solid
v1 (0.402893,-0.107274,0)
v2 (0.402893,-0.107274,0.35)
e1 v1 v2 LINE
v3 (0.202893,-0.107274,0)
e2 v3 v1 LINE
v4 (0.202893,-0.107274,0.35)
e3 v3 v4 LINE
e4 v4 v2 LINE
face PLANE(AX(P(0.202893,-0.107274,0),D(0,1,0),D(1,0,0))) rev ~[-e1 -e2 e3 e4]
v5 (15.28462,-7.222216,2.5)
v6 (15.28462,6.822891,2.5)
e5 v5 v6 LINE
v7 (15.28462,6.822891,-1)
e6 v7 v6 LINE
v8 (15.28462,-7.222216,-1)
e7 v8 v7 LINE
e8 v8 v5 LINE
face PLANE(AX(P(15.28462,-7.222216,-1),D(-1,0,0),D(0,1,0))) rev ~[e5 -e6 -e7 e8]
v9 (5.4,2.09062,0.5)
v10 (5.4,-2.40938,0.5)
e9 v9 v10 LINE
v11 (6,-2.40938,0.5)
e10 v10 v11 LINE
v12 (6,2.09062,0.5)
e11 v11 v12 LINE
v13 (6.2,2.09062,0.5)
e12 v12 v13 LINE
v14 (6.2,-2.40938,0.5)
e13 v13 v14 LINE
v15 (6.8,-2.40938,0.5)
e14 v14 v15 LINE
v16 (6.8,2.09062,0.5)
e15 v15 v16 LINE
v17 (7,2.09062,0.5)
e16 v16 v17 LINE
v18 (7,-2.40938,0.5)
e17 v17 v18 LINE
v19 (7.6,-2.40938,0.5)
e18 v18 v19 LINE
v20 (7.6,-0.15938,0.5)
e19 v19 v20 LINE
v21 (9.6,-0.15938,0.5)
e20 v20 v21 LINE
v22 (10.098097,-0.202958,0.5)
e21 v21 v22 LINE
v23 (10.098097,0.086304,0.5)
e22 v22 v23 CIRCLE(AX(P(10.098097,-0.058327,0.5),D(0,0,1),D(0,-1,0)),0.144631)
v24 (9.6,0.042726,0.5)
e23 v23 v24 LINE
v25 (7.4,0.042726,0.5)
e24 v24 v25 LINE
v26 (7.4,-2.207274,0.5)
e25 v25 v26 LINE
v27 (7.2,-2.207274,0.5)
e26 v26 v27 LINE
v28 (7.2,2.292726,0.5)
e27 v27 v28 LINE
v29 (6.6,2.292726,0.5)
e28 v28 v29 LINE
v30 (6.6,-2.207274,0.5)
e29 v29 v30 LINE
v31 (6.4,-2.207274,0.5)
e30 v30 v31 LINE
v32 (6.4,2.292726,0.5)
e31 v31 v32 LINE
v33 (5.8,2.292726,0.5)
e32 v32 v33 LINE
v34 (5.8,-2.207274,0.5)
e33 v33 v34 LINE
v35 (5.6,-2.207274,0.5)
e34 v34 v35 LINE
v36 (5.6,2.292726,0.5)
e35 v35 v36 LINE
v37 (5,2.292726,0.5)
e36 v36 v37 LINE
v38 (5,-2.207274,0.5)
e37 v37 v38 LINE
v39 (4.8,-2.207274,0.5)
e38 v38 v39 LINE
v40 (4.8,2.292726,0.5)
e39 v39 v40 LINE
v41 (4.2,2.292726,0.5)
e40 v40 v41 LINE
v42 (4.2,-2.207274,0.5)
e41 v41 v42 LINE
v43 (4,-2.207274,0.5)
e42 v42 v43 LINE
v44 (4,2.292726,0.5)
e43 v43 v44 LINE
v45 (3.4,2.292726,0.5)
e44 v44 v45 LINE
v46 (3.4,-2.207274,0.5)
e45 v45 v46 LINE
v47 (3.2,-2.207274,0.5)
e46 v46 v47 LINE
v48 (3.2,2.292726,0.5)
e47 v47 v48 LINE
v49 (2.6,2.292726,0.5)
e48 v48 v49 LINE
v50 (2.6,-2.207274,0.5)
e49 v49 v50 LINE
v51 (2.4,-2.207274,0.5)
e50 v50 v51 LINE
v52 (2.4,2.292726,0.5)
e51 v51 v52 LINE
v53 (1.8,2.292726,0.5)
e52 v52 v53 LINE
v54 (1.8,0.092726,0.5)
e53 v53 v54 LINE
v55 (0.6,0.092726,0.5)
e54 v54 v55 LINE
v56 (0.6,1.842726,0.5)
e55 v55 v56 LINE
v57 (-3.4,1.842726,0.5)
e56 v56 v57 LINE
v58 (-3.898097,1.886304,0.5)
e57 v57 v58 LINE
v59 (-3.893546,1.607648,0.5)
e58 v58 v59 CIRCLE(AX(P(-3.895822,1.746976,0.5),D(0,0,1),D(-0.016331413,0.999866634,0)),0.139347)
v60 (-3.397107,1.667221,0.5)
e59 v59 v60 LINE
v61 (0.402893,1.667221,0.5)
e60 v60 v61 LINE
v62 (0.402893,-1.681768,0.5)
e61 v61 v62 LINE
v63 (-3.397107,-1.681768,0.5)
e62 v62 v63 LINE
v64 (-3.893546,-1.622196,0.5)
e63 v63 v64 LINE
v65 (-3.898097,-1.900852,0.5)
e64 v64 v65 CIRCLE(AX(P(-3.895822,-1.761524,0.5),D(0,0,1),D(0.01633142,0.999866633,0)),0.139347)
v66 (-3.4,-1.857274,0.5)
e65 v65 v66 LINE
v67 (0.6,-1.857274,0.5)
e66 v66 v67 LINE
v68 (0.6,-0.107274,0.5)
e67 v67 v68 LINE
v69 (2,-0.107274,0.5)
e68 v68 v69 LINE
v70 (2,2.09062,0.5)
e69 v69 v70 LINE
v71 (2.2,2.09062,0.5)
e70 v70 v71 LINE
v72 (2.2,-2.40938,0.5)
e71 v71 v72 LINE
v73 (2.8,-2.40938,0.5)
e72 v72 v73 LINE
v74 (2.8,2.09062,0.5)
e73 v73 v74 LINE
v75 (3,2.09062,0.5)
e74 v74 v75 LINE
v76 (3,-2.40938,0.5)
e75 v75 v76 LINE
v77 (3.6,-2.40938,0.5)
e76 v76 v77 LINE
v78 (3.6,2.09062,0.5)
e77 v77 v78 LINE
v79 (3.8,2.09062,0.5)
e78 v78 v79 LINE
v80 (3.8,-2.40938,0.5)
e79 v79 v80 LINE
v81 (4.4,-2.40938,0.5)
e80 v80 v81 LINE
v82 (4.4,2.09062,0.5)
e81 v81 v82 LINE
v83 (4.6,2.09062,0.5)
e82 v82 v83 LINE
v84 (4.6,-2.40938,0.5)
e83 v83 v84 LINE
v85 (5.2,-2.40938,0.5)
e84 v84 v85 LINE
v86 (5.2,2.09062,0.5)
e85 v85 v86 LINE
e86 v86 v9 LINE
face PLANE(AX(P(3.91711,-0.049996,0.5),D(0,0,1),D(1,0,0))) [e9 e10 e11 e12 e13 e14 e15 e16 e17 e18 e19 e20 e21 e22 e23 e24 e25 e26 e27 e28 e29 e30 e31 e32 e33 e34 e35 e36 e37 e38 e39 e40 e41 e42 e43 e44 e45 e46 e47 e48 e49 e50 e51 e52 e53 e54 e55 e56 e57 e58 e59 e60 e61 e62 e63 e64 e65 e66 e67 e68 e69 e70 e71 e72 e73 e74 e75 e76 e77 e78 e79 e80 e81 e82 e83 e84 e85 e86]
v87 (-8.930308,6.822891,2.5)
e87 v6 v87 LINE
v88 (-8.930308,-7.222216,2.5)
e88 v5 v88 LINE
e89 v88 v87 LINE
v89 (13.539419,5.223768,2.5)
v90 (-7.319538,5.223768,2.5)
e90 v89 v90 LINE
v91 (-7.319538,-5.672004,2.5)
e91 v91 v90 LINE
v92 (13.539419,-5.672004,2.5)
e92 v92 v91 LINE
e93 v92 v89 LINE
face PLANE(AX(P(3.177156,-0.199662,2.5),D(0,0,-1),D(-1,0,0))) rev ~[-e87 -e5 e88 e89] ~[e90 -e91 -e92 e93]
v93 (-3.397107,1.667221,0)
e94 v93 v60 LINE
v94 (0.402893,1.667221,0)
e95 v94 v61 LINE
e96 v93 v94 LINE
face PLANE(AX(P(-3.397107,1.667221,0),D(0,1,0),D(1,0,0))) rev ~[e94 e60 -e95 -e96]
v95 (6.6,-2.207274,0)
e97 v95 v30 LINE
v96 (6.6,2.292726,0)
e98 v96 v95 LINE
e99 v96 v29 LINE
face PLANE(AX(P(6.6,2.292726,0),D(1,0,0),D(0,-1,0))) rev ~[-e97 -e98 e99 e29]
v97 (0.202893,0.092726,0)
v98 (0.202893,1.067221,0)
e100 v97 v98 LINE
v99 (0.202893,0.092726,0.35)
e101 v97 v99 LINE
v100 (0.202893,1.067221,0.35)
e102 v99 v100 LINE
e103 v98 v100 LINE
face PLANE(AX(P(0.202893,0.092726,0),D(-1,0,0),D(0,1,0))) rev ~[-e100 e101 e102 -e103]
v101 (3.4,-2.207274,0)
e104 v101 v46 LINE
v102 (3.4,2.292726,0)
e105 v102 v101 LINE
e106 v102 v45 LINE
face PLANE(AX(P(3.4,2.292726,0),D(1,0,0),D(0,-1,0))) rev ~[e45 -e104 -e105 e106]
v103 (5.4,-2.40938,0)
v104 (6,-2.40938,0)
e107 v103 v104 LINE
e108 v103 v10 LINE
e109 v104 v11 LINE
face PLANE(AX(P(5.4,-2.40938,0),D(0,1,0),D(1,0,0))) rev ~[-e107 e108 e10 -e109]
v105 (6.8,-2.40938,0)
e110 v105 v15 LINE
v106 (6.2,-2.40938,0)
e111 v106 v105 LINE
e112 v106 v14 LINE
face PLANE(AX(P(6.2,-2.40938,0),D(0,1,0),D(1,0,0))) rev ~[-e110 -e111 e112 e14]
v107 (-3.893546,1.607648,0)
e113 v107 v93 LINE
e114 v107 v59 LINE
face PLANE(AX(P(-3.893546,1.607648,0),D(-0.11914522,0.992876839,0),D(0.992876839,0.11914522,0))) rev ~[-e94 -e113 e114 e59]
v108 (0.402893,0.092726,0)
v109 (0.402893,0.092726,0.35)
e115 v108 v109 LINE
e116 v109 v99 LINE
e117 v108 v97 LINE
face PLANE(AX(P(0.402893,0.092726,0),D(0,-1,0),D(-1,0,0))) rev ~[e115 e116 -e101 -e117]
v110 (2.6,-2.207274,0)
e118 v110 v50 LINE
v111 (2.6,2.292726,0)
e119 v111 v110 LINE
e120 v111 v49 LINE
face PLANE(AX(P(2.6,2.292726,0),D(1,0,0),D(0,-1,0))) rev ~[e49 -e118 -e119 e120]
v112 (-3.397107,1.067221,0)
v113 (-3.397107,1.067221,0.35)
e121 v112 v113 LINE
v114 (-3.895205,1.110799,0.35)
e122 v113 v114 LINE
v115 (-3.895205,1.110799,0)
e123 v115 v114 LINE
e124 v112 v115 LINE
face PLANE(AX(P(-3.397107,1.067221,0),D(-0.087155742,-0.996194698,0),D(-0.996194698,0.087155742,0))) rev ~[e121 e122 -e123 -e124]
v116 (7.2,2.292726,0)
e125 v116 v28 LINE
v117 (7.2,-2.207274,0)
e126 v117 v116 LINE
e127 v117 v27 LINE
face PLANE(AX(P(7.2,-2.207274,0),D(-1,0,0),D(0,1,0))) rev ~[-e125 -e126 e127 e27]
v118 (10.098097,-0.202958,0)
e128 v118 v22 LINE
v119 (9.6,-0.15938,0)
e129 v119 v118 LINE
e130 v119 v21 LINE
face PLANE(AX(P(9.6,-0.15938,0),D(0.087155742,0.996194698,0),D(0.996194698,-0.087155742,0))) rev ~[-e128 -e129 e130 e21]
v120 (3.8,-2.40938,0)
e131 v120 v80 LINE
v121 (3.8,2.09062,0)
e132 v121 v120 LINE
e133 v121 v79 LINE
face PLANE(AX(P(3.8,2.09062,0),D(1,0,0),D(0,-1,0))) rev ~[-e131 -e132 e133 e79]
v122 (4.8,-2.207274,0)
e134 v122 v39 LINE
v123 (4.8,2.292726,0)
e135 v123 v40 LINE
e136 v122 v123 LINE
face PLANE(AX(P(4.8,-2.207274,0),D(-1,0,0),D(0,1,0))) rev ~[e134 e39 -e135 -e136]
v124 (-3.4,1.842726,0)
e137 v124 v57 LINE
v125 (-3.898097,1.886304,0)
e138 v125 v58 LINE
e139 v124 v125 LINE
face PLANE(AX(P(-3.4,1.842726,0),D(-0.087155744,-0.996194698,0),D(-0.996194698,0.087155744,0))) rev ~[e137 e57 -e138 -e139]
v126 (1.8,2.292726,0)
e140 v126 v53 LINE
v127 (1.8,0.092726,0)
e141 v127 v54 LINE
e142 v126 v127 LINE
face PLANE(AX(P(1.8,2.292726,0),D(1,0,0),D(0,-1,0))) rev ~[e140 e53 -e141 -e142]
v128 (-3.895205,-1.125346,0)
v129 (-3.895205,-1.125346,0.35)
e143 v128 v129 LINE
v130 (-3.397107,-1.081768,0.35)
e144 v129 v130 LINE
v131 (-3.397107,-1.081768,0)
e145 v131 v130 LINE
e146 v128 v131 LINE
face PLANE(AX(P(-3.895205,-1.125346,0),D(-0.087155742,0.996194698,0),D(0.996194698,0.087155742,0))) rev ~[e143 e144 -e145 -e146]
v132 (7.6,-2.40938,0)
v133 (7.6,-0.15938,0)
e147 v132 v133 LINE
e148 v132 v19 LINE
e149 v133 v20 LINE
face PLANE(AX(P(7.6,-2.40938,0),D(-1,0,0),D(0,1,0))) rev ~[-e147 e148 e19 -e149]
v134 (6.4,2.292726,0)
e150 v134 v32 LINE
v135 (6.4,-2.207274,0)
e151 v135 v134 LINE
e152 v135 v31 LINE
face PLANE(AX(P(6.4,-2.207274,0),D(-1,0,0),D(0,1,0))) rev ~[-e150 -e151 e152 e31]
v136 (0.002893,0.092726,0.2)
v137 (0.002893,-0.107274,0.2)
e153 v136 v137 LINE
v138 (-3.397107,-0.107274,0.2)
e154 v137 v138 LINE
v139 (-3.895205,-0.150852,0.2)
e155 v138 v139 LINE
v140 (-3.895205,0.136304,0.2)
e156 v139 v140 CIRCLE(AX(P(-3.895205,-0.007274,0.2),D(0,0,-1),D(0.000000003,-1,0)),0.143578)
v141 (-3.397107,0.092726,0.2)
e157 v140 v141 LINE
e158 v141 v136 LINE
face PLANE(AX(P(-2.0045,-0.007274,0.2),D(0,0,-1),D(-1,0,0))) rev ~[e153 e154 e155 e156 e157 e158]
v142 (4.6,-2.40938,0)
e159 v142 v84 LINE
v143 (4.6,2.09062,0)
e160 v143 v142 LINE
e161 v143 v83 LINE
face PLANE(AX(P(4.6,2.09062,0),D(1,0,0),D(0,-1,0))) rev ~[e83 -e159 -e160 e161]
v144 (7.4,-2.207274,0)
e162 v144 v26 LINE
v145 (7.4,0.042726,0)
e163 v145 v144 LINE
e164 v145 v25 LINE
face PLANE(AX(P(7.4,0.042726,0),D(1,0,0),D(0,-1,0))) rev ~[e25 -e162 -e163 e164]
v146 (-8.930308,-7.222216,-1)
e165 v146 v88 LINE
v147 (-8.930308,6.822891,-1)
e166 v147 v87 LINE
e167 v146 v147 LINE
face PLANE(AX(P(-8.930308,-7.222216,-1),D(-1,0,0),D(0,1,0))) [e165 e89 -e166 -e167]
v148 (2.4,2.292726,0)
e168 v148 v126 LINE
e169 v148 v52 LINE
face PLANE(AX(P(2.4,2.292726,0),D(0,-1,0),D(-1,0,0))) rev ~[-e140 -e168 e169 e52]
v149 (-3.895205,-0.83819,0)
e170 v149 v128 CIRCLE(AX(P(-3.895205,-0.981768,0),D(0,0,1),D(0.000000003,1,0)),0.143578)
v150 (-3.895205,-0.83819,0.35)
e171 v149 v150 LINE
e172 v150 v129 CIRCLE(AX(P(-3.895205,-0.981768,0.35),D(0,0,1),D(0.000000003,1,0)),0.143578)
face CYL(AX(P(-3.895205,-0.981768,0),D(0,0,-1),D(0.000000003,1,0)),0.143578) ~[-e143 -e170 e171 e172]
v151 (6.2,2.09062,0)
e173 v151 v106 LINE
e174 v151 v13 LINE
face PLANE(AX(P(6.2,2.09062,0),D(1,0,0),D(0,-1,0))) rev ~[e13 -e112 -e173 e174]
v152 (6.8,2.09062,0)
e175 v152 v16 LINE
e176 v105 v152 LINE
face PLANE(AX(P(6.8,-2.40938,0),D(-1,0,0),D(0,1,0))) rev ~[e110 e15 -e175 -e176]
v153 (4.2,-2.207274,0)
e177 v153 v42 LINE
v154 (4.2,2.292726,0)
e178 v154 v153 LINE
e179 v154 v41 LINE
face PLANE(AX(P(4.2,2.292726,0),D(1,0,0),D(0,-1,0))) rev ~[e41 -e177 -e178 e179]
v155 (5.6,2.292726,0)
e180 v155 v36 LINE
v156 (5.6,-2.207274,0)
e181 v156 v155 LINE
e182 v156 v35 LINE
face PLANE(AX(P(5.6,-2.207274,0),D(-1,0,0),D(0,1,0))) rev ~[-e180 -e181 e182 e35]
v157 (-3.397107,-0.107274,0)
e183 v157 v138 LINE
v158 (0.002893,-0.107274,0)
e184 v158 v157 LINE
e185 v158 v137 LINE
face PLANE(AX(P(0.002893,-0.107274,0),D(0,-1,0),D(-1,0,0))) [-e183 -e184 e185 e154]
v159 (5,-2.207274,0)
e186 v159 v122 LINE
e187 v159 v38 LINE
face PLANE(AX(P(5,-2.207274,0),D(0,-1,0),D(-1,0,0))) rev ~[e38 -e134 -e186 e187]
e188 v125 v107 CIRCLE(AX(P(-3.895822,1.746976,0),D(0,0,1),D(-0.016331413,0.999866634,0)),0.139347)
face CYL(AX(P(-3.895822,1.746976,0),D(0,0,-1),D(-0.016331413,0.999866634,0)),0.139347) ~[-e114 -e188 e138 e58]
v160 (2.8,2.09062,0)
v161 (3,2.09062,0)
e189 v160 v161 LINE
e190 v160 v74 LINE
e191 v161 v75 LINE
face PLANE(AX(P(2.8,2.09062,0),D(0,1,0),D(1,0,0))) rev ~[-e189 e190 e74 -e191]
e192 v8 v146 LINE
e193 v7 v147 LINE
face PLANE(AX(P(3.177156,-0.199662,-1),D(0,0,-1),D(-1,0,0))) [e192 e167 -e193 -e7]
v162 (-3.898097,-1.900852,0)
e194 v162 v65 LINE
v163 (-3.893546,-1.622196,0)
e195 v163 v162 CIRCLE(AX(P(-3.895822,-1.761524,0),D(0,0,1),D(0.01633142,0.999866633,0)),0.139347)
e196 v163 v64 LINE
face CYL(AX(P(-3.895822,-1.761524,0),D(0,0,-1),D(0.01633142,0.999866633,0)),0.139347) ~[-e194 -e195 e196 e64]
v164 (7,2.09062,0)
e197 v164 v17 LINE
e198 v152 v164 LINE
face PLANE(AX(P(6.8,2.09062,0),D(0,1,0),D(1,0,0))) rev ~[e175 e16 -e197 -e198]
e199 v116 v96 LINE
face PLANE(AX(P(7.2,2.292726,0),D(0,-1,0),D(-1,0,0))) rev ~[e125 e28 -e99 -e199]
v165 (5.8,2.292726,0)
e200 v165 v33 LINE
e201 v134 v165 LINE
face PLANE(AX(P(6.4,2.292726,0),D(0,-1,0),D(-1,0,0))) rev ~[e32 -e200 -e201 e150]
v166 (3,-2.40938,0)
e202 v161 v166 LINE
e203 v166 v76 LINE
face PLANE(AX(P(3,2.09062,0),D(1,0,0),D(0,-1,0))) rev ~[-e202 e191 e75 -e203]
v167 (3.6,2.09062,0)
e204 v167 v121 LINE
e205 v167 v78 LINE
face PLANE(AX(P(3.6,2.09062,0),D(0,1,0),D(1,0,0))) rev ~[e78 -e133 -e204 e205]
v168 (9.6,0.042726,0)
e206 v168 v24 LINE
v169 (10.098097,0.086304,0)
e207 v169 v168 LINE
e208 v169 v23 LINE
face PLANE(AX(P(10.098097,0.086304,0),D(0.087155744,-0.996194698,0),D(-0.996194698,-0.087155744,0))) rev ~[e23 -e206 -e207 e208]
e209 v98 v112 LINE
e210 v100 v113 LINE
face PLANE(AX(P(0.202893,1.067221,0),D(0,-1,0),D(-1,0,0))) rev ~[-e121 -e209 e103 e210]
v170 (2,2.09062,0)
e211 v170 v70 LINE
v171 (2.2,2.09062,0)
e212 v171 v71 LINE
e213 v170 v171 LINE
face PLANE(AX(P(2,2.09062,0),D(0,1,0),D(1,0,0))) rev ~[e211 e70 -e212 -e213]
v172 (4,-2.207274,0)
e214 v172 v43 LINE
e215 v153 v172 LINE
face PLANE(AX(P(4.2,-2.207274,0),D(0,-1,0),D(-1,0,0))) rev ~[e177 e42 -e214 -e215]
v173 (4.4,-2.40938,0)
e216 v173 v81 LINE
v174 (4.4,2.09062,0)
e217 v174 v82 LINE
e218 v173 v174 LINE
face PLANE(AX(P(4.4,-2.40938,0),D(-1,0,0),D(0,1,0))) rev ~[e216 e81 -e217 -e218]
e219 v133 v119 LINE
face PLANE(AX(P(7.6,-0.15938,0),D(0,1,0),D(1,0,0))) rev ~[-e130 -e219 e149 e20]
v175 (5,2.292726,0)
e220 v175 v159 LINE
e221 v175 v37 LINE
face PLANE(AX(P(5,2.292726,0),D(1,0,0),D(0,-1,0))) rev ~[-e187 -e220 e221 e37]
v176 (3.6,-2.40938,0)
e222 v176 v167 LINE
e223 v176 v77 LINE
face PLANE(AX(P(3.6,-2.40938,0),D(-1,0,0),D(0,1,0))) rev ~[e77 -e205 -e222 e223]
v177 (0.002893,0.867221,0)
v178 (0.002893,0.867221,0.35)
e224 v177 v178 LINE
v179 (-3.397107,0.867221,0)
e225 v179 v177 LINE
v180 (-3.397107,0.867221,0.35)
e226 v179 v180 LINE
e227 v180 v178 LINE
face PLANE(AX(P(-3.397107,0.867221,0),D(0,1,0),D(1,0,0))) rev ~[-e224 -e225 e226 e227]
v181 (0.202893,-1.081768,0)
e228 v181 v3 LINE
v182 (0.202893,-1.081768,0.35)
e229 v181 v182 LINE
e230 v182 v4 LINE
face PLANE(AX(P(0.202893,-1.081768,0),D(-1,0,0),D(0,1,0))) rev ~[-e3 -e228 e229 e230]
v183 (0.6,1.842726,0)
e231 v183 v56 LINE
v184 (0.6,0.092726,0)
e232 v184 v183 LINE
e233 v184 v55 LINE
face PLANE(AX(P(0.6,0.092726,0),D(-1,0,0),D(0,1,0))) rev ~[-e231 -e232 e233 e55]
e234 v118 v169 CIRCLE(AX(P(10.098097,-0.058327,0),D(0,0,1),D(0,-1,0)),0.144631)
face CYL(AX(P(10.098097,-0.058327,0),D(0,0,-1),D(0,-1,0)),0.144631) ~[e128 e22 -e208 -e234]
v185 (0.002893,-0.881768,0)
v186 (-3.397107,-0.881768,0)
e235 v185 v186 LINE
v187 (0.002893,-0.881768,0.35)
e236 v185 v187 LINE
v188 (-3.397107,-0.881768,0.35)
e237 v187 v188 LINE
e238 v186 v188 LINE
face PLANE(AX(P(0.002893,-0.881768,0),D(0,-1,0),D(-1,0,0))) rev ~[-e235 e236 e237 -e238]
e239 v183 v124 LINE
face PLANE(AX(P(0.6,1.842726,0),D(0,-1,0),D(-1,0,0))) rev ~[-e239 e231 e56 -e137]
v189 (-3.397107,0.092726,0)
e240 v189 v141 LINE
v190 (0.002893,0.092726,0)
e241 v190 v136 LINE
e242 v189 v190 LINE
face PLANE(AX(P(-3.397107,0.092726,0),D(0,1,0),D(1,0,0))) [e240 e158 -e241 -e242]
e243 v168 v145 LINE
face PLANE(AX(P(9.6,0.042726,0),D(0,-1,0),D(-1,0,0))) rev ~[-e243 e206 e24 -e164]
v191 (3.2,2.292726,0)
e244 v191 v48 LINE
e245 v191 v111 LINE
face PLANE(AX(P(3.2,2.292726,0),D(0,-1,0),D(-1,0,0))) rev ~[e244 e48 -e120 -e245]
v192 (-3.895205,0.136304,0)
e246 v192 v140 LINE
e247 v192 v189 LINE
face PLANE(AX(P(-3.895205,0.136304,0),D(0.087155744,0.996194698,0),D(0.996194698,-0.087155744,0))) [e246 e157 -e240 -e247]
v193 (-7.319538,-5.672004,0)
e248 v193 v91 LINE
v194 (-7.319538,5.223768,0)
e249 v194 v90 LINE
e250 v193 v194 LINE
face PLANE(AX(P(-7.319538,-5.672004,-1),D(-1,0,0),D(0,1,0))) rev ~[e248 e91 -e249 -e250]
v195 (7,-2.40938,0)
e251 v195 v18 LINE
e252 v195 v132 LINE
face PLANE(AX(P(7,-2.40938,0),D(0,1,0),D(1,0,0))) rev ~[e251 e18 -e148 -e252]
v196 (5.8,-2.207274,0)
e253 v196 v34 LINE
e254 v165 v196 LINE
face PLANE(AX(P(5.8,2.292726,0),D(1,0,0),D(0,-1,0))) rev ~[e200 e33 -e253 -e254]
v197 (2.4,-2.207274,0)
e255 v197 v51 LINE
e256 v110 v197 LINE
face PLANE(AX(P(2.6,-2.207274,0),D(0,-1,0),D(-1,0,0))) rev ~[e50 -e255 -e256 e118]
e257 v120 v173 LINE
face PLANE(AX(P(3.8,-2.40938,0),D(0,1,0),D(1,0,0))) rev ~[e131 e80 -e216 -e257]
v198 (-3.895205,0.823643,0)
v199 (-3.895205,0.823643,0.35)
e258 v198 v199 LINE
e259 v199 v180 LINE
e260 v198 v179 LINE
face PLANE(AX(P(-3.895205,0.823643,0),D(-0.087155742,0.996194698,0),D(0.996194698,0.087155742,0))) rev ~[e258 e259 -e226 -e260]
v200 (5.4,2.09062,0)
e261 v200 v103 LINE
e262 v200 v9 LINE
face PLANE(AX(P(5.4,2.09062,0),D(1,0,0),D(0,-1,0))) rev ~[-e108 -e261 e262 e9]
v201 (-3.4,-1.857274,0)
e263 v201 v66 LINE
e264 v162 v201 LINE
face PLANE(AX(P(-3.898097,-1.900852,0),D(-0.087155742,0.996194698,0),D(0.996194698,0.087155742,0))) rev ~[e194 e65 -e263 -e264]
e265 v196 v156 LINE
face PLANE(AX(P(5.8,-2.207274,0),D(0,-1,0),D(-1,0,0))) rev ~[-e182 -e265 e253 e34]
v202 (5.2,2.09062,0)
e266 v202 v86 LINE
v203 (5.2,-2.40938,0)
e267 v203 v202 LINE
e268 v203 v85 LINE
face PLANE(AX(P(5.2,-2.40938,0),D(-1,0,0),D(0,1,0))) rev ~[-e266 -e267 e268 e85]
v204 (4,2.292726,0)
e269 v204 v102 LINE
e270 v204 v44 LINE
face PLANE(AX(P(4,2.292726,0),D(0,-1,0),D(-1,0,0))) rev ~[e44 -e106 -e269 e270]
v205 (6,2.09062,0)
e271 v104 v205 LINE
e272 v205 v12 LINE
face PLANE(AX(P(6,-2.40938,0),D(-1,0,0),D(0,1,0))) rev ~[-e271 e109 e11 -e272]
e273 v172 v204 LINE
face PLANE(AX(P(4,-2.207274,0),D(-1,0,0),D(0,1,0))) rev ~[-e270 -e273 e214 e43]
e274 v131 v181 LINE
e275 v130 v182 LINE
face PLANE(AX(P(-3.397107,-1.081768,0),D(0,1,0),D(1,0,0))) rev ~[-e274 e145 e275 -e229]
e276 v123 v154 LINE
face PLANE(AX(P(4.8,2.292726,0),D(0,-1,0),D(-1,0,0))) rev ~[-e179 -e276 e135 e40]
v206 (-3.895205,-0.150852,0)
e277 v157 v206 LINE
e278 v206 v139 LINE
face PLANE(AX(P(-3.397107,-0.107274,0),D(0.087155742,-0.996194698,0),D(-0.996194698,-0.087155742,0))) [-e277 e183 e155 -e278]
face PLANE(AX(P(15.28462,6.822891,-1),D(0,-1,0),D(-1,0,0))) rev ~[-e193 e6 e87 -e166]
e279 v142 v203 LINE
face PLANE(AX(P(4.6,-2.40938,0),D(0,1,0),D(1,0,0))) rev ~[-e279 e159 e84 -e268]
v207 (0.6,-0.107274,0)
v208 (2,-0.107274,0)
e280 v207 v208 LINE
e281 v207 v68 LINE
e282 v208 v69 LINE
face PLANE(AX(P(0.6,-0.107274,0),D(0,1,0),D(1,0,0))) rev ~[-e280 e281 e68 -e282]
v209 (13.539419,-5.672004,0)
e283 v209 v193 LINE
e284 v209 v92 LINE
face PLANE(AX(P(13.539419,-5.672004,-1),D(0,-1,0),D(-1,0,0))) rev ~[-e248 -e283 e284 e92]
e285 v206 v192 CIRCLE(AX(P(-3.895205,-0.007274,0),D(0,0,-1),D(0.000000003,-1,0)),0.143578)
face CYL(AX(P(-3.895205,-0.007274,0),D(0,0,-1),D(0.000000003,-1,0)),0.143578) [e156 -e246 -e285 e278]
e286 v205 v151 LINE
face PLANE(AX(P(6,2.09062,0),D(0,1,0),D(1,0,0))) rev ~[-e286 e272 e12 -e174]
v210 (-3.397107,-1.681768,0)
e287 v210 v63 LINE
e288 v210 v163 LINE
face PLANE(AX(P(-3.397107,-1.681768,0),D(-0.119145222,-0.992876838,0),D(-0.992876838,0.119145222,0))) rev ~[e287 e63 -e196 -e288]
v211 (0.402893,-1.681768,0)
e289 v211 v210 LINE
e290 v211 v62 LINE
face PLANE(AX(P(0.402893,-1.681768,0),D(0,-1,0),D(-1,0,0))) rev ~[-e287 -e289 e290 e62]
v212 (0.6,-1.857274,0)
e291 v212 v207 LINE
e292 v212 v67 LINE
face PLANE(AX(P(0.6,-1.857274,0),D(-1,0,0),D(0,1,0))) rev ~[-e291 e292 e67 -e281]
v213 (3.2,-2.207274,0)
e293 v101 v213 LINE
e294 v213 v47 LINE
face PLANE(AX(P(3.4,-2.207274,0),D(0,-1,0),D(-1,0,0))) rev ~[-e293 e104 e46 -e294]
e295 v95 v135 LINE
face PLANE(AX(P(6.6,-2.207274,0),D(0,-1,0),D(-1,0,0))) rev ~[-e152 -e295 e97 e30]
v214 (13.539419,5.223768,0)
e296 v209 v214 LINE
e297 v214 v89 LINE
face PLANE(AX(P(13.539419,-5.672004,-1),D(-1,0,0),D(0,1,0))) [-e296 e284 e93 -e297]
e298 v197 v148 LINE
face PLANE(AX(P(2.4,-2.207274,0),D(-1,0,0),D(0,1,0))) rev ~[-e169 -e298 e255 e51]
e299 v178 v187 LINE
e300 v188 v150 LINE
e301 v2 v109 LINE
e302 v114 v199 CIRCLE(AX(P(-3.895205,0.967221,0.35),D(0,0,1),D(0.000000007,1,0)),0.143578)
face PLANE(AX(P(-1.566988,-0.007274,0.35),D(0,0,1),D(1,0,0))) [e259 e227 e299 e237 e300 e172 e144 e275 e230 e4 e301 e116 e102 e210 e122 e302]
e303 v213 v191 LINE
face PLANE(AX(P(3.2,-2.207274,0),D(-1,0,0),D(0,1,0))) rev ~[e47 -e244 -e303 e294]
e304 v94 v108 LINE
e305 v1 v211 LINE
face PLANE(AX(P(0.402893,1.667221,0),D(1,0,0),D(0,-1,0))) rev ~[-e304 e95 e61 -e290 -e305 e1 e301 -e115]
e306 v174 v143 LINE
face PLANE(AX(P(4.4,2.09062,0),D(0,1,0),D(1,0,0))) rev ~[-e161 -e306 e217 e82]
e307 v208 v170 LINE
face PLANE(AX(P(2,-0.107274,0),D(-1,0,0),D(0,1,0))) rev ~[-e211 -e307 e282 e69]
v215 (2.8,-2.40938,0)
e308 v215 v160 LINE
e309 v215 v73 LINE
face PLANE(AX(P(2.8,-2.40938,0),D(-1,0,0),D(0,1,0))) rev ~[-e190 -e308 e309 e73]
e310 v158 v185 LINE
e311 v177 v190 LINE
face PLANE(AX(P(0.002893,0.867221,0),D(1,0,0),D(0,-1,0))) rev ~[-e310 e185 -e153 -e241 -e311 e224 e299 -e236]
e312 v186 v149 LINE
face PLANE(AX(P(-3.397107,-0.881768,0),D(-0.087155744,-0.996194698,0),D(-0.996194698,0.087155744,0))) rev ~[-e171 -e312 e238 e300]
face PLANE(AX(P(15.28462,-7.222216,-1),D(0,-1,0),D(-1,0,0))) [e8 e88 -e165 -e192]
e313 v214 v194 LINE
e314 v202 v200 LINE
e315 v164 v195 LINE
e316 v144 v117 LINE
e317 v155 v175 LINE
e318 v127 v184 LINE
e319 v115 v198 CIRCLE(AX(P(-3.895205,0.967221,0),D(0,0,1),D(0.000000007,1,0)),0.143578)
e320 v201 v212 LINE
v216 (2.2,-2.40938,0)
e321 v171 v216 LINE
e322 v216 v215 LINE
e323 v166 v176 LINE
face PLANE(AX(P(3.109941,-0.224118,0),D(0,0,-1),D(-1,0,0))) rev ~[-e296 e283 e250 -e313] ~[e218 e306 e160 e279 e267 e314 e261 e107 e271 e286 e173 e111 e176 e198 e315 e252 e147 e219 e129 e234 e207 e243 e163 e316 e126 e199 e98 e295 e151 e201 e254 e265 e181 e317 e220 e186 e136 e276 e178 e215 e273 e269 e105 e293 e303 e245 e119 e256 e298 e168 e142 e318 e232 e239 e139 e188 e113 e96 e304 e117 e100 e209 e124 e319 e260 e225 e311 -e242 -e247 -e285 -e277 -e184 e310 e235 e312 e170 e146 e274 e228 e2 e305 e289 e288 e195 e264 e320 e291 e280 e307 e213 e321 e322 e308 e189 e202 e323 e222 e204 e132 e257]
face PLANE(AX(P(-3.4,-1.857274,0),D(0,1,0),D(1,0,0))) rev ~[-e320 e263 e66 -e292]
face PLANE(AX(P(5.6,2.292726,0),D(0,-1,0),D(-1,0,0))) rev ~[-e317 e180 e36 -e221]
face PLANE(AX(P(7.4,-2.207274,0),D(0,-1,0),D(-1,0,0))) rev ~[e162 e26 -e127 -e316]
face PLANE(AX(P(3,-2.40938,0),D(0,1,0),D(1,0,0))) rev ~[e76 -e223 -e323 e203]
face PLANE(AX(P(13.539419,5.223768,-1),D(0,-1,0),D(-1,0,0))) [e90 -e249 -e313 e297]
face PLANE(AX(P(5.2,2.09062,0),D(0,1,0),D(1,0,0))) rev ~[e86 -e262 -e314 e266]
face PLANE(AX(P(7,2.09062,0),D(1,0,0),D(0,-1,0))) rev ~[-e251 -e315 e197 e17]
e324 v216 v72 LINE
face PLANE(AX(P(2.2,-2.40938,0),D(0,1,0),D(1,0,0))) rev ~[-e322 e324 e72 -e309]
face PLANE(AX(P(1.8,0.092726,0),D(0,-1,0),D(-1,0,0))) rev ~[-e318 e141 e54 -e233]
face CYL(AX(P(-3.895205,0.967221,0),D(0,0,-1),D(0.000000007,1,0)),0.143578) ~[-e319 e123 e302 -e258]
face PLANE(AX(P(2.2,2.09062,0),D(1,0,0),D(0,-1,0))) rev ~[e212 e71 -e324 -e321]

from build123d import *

# Parameters (mm, degrees)
BOSS_EXTRUDE1_DEPTH = 0.2
BOSS_EXTRUDE2_DEPTH = 0.35
BOSS_EXTRUDE3_DEPTH = 0.5
SKETCH2_W           = 20.858957108
SKETCH2_H           = 10.895771928
BOSS_EXTRUDE4_DEPTH = 1
SKETCH3_W           = 24.214928457
SKETCH3_H           = 14.045107393
SKETCH3_W_2         = 20.858957108
SKETCH3_H_2         = 10.895771928
BOSS_EXTRUDE5_DEPTH = 3.5


with BuildPart() as part:
    # Sketch1 → Boss-Extrude1 (new body)
    with BuildSketch(Plane.XY):
        with BuildLine():
            Line((-3.397107478, 0.09272626), (0.002892522, 0.09272626))
            Line((0.002892522, 0.09272626), (0.002892522, -0.10727374))
            Line((0.002892522, -0.10727374), (-3.397107478, -0.10727374))
            Line((-3.397107478, -0.10727374), (-3.895204827, -0.150851611))
            ThreePointArc((-3.895204827, -0.150851611), (-4.038782699, -0.00727374), (-3.895204827, 0.136304132))
            Line((-3.895204827, 0.136304132), (-3.397107478, 0.09272626))
        make_face()
    extrude(amount=BOSS_EXTRUDE1_DEPTH)

    # Sketch1<4> → Boss-Extrude2 (add)
    with BuildSketch(Plane.XY):
        with BuildLine():
            Line((0.402892522, -0.10727374), (0.402892522, 0.09272626))
            Line((0.402892522, 0.09272626), (0.202892522, 0.09272626))
            Line((0.202892522, 0.09272626), (0.202892522, 1.067220881))
            Line((0.202892522, 1.067220881), (-3.397107478, 1.067220881))
            Line((-3.397107478, 1.067220881), (-3.895204827, 1.110798752))
            ThreePointArc((-3.895204827, 1.110798752), (-4.038782699, 0.967220881), (-3.895204827, 0.82364301))
            Line((-3.895204827, 0.82364301), (-3.397107478, 0.867220881))
            Line((-3.397107478, 0.867220881), (0.002892522, 0.867220881))
            Line((0.002892522, 0.867220881), (0.002892522, 0.09272626))
            Line((0.002892522, 0.09272626), (0.002892522, -0.10727374))
            Line((0.002892522, -0.10727374), (0.002892522, -0.881768361))
            Line((0.002892522, -0.881768361), (-3.397107478, -0.881768361))
            Line((-3.397107478, -0.881768361), (-3.895204827, -0.838190489))
            ThreePointArc((-3.895204827, -0.838190489), (-4.038782699, -0.981768361), (-3.895204827, -1.125346232))
            Line((-3.895204827, -1.125346232), (-3.397107478, -1.081768361))
            Line((-3.397107478, -1.081768361), (0.202892522, -1.081768361))
            Line((0.202892522, -1.081768361), (0.202892522, -0.10727374))
            Line((0.202892522, -0.10727374), (0.402892522, -0.10727374))
        make_face()
    extrude(amount=BOSS_EXTRUDE2_DEPTH)

    # Sketch1<5> → Boss-Extrude3 (add)
    with BuildSketch(Plane.XY):
        with BuildLine():
            Line((1.8, 0.09272626), (0.6, 0.09272626))
            Line((0.6, 0.09272626), (0.6, 1.84272626))
            Line((0.6, 1.84272626), (-3.4, 1.84272626))
            Line((-3.4, 1.84272626), (-3.898097349, 1.886304132))
            ThreePointArc((-3.898097349, 1.886304132), (-4.035149554, 1.744700475), (-3.893545897, 1.607648271))
            Line((-3.893545897, 1.607648271), (-3.397107478, 1.667220881))
            Line((-3.397107478, 1.667220881), (0.402892522, 1.667220881))
            Line((0.402892522, 1.667220881), (0.402892522, -1.681768361))
            Line((0.402892522, -1.681768361), (-3.397107478, -1.681768361))
            Line((-3.397107478, -1.681768361), (-3.893545897, -1.62219575))
            ThreePointArc((-3.893545897, -1.62219575), (-4.035149554, -1.759247955), (-3.898097349, -1.900851611))
            Line((-3.898097349, -1.900851611), (-3.4, -1.85727374))
            Line((-3.4, -1.85727374), (0.6, -1.85727374))
            Line((0.6, -1.85727374), (0.6, -0.10727374))
            Line((0.6, -0.10727374), (2, -0.10727374))
            Line((2, -0.10727374), (2, 2.090619677))
            Line((2, 2.090619677), (2.2, 2.090619677))
            Line((2.2, 2.090619677), (2.2, -2.409380323))
            Line((2.2, -2.409380323), (2.8, -2.409380323))
            Line((2.8, -2.409380323), (2.8, 2.090619677))
            Line((2.8, 2.090619677), (3, 2.090619677))
            Line((3, 2.090619677), (3, -2.409380323))
            Line((3, -2.409380323), (3.6, -2.409380323))
            Line((3.6, -2.409380323), (3.6, 2.090619677))
            Line((3.6, 2.090619677), (3.8, 2.090619677))
            Line((3.8, 2.090619677), (3.8, -2.409380323))
            Line((3.8, -2.409380323), (4.4, -2.409380323))
            Line((4.4, -2.409380323), (4.4, 2.090619677))
            Line((4.4, 2.090619677), (4.6, 2.090619677))
            Line((4.6, 2.090619677), (4.6, -2.409380323))
            Line((4.6, -2.409380323), (5.2, -2.409380323))
            Line((5.2, -2.409380323), (5.2, 2.090619677))
            Line((5.2, 2.090619677), (5.4, 2.090619677))
            Line((5.4, 2.090619677), (5.4, -2.409380323))
            Line((5.4, -2.409380323), (6, -2.409380323))
            Line((6, -2.409380323), (6, 2.090619677))
            Line((6, 2.090619677), (6.2, 2.090619677))
            Line((6.2, 2.090619677), (6.2, -2.409380323))
            Line((6.2, -2.409380323), (6.8, -2.409380323))
            Line((6.8, -2.409380323), (6.8, 2.090619677))
            Line((6.8, 2.090619677), (7, 2.090619677))
            Line((7, 2.090619677), (7, -2.409380323))
            Line((7, -2.409380323), (7.6, -2.409380323))
            Line((7.6, -2.409380323), (7.6, -0.159380323))
            Line((7.6, -0.159380323), (9.6, -0.159380323))
            Line((9.6, -0.159380323), (10.098097349, -0.202958194))
            ThreePointArc((10.098097349, -0.202958194), (10.242728512, -0.058327031), (10.098097349, 0.086304132))
            Line((10.098097349, 0.086304132), (9.6, 0.04272626))
            Line((9.6, 0.04272626), (7.4, 0.04272626))
            Line((7.4, 0.04272626), (7.4, -2.20727374))
            Line((7.4, -2.20727374), (7.2, -2.20727374))
            Line((7.2, -2.20727374), (7.2, 2.29272626))
            Line((7.2, 2.29272626), (6.6, 2.29272626))
            Line((6.6, 2.29272626), (6.6, -2.20727374))
            Line((6.6, -2.20727374), (6.4, -2.20727374))
            Line((6.4, -2.20727374), (6.4, 2.29272626))
            Line((6.4, 2.29272626), (5.8, 2.29272626))
            Line((5.8, 2.29272626), (5.8, -2.20727374))
            Line((5.8, -2.20727374), (5.6, -2.20727374))
            Line((5.6, -2.20727374), (5.6, 2.29272626))
            Line((5.6, 2.29272626), (5, 2.29272626))
            Line((5, 2.29272626), (5, -2.20727374))
            Line((5, -2.20727374), (4.8, -2.20727374))
            Line((4.8, -2.20727374), (4.8, 2.29272626))
            Line((4.8, 2.29272626), (4.2, 2.29272626))
            Line((4.2, 2.29272626), (4.2, -2.20727374))
            Line((4.2, -2.20727374), (4, -2.20727374))
            Line((4, -2.20727374), (4, 2.29272626))
            Line((4, 2.29272626), (3.4, 2.29272626))
            Line((3.4, 2.29272626), (3.4, -2.20727374))
            Line((3.4, -2.20727374), (3.2, -2.20727374))
            Line((3.2, -2.20727374), (3.2, 2.29272626))
            Line((3.2, 2.29272626), (2.6, 2.29272626))
            Line((2.6, 2.29272626), (2.6, -2.20727374))
            Line((2.6, -2.20727374), (2.4, -2.20727374))
            Line((2.4, -2.20727374), (2.4, 2.29272626))
            Line((2.4, 2.29272626), (1.8, 2.29272626))
            Line((1.8, 2.29272626), (1.8, 0.09272626))
        make_face()
    extrude(amount=BOSS_EXTRUDE3_DEPTH)

    # Sketch2 → Boss-Extrude4 (add)
    with BuildSketch(Plane(origin=(0, 0, 0), x_dir=(-1, 0, 0), z_dir=(0, 0, -1))):
        with Locations((-3.109940625, -0.224118245)):
            Rectangle(SKETCH2_W, SKETCH2_H)
    extrude(amount=BOSS_EXTRUDE4_DEPTH)

    # Sketch3 → Boss-Extrude5 (add)
    with BuildSketch(Plane(origin=(0, 0, -1), x_dir=(-1, 0, 0), z_dir=(0, 0, -1))):
        with Locations((-3.177155759, -0.199662359)):
            Rectangle(SKETCH3_W, SKETCH3_H)
        with Locations((-3.109940625, -0.224118245)):
            Rectangle(SKETCH3_W_2, SKETCH3_H_2, mode=Mode.SUBTRACT)
    extrude(amount=-BOSS_EXTRUDE5_DEPTH)


solid = part.part
